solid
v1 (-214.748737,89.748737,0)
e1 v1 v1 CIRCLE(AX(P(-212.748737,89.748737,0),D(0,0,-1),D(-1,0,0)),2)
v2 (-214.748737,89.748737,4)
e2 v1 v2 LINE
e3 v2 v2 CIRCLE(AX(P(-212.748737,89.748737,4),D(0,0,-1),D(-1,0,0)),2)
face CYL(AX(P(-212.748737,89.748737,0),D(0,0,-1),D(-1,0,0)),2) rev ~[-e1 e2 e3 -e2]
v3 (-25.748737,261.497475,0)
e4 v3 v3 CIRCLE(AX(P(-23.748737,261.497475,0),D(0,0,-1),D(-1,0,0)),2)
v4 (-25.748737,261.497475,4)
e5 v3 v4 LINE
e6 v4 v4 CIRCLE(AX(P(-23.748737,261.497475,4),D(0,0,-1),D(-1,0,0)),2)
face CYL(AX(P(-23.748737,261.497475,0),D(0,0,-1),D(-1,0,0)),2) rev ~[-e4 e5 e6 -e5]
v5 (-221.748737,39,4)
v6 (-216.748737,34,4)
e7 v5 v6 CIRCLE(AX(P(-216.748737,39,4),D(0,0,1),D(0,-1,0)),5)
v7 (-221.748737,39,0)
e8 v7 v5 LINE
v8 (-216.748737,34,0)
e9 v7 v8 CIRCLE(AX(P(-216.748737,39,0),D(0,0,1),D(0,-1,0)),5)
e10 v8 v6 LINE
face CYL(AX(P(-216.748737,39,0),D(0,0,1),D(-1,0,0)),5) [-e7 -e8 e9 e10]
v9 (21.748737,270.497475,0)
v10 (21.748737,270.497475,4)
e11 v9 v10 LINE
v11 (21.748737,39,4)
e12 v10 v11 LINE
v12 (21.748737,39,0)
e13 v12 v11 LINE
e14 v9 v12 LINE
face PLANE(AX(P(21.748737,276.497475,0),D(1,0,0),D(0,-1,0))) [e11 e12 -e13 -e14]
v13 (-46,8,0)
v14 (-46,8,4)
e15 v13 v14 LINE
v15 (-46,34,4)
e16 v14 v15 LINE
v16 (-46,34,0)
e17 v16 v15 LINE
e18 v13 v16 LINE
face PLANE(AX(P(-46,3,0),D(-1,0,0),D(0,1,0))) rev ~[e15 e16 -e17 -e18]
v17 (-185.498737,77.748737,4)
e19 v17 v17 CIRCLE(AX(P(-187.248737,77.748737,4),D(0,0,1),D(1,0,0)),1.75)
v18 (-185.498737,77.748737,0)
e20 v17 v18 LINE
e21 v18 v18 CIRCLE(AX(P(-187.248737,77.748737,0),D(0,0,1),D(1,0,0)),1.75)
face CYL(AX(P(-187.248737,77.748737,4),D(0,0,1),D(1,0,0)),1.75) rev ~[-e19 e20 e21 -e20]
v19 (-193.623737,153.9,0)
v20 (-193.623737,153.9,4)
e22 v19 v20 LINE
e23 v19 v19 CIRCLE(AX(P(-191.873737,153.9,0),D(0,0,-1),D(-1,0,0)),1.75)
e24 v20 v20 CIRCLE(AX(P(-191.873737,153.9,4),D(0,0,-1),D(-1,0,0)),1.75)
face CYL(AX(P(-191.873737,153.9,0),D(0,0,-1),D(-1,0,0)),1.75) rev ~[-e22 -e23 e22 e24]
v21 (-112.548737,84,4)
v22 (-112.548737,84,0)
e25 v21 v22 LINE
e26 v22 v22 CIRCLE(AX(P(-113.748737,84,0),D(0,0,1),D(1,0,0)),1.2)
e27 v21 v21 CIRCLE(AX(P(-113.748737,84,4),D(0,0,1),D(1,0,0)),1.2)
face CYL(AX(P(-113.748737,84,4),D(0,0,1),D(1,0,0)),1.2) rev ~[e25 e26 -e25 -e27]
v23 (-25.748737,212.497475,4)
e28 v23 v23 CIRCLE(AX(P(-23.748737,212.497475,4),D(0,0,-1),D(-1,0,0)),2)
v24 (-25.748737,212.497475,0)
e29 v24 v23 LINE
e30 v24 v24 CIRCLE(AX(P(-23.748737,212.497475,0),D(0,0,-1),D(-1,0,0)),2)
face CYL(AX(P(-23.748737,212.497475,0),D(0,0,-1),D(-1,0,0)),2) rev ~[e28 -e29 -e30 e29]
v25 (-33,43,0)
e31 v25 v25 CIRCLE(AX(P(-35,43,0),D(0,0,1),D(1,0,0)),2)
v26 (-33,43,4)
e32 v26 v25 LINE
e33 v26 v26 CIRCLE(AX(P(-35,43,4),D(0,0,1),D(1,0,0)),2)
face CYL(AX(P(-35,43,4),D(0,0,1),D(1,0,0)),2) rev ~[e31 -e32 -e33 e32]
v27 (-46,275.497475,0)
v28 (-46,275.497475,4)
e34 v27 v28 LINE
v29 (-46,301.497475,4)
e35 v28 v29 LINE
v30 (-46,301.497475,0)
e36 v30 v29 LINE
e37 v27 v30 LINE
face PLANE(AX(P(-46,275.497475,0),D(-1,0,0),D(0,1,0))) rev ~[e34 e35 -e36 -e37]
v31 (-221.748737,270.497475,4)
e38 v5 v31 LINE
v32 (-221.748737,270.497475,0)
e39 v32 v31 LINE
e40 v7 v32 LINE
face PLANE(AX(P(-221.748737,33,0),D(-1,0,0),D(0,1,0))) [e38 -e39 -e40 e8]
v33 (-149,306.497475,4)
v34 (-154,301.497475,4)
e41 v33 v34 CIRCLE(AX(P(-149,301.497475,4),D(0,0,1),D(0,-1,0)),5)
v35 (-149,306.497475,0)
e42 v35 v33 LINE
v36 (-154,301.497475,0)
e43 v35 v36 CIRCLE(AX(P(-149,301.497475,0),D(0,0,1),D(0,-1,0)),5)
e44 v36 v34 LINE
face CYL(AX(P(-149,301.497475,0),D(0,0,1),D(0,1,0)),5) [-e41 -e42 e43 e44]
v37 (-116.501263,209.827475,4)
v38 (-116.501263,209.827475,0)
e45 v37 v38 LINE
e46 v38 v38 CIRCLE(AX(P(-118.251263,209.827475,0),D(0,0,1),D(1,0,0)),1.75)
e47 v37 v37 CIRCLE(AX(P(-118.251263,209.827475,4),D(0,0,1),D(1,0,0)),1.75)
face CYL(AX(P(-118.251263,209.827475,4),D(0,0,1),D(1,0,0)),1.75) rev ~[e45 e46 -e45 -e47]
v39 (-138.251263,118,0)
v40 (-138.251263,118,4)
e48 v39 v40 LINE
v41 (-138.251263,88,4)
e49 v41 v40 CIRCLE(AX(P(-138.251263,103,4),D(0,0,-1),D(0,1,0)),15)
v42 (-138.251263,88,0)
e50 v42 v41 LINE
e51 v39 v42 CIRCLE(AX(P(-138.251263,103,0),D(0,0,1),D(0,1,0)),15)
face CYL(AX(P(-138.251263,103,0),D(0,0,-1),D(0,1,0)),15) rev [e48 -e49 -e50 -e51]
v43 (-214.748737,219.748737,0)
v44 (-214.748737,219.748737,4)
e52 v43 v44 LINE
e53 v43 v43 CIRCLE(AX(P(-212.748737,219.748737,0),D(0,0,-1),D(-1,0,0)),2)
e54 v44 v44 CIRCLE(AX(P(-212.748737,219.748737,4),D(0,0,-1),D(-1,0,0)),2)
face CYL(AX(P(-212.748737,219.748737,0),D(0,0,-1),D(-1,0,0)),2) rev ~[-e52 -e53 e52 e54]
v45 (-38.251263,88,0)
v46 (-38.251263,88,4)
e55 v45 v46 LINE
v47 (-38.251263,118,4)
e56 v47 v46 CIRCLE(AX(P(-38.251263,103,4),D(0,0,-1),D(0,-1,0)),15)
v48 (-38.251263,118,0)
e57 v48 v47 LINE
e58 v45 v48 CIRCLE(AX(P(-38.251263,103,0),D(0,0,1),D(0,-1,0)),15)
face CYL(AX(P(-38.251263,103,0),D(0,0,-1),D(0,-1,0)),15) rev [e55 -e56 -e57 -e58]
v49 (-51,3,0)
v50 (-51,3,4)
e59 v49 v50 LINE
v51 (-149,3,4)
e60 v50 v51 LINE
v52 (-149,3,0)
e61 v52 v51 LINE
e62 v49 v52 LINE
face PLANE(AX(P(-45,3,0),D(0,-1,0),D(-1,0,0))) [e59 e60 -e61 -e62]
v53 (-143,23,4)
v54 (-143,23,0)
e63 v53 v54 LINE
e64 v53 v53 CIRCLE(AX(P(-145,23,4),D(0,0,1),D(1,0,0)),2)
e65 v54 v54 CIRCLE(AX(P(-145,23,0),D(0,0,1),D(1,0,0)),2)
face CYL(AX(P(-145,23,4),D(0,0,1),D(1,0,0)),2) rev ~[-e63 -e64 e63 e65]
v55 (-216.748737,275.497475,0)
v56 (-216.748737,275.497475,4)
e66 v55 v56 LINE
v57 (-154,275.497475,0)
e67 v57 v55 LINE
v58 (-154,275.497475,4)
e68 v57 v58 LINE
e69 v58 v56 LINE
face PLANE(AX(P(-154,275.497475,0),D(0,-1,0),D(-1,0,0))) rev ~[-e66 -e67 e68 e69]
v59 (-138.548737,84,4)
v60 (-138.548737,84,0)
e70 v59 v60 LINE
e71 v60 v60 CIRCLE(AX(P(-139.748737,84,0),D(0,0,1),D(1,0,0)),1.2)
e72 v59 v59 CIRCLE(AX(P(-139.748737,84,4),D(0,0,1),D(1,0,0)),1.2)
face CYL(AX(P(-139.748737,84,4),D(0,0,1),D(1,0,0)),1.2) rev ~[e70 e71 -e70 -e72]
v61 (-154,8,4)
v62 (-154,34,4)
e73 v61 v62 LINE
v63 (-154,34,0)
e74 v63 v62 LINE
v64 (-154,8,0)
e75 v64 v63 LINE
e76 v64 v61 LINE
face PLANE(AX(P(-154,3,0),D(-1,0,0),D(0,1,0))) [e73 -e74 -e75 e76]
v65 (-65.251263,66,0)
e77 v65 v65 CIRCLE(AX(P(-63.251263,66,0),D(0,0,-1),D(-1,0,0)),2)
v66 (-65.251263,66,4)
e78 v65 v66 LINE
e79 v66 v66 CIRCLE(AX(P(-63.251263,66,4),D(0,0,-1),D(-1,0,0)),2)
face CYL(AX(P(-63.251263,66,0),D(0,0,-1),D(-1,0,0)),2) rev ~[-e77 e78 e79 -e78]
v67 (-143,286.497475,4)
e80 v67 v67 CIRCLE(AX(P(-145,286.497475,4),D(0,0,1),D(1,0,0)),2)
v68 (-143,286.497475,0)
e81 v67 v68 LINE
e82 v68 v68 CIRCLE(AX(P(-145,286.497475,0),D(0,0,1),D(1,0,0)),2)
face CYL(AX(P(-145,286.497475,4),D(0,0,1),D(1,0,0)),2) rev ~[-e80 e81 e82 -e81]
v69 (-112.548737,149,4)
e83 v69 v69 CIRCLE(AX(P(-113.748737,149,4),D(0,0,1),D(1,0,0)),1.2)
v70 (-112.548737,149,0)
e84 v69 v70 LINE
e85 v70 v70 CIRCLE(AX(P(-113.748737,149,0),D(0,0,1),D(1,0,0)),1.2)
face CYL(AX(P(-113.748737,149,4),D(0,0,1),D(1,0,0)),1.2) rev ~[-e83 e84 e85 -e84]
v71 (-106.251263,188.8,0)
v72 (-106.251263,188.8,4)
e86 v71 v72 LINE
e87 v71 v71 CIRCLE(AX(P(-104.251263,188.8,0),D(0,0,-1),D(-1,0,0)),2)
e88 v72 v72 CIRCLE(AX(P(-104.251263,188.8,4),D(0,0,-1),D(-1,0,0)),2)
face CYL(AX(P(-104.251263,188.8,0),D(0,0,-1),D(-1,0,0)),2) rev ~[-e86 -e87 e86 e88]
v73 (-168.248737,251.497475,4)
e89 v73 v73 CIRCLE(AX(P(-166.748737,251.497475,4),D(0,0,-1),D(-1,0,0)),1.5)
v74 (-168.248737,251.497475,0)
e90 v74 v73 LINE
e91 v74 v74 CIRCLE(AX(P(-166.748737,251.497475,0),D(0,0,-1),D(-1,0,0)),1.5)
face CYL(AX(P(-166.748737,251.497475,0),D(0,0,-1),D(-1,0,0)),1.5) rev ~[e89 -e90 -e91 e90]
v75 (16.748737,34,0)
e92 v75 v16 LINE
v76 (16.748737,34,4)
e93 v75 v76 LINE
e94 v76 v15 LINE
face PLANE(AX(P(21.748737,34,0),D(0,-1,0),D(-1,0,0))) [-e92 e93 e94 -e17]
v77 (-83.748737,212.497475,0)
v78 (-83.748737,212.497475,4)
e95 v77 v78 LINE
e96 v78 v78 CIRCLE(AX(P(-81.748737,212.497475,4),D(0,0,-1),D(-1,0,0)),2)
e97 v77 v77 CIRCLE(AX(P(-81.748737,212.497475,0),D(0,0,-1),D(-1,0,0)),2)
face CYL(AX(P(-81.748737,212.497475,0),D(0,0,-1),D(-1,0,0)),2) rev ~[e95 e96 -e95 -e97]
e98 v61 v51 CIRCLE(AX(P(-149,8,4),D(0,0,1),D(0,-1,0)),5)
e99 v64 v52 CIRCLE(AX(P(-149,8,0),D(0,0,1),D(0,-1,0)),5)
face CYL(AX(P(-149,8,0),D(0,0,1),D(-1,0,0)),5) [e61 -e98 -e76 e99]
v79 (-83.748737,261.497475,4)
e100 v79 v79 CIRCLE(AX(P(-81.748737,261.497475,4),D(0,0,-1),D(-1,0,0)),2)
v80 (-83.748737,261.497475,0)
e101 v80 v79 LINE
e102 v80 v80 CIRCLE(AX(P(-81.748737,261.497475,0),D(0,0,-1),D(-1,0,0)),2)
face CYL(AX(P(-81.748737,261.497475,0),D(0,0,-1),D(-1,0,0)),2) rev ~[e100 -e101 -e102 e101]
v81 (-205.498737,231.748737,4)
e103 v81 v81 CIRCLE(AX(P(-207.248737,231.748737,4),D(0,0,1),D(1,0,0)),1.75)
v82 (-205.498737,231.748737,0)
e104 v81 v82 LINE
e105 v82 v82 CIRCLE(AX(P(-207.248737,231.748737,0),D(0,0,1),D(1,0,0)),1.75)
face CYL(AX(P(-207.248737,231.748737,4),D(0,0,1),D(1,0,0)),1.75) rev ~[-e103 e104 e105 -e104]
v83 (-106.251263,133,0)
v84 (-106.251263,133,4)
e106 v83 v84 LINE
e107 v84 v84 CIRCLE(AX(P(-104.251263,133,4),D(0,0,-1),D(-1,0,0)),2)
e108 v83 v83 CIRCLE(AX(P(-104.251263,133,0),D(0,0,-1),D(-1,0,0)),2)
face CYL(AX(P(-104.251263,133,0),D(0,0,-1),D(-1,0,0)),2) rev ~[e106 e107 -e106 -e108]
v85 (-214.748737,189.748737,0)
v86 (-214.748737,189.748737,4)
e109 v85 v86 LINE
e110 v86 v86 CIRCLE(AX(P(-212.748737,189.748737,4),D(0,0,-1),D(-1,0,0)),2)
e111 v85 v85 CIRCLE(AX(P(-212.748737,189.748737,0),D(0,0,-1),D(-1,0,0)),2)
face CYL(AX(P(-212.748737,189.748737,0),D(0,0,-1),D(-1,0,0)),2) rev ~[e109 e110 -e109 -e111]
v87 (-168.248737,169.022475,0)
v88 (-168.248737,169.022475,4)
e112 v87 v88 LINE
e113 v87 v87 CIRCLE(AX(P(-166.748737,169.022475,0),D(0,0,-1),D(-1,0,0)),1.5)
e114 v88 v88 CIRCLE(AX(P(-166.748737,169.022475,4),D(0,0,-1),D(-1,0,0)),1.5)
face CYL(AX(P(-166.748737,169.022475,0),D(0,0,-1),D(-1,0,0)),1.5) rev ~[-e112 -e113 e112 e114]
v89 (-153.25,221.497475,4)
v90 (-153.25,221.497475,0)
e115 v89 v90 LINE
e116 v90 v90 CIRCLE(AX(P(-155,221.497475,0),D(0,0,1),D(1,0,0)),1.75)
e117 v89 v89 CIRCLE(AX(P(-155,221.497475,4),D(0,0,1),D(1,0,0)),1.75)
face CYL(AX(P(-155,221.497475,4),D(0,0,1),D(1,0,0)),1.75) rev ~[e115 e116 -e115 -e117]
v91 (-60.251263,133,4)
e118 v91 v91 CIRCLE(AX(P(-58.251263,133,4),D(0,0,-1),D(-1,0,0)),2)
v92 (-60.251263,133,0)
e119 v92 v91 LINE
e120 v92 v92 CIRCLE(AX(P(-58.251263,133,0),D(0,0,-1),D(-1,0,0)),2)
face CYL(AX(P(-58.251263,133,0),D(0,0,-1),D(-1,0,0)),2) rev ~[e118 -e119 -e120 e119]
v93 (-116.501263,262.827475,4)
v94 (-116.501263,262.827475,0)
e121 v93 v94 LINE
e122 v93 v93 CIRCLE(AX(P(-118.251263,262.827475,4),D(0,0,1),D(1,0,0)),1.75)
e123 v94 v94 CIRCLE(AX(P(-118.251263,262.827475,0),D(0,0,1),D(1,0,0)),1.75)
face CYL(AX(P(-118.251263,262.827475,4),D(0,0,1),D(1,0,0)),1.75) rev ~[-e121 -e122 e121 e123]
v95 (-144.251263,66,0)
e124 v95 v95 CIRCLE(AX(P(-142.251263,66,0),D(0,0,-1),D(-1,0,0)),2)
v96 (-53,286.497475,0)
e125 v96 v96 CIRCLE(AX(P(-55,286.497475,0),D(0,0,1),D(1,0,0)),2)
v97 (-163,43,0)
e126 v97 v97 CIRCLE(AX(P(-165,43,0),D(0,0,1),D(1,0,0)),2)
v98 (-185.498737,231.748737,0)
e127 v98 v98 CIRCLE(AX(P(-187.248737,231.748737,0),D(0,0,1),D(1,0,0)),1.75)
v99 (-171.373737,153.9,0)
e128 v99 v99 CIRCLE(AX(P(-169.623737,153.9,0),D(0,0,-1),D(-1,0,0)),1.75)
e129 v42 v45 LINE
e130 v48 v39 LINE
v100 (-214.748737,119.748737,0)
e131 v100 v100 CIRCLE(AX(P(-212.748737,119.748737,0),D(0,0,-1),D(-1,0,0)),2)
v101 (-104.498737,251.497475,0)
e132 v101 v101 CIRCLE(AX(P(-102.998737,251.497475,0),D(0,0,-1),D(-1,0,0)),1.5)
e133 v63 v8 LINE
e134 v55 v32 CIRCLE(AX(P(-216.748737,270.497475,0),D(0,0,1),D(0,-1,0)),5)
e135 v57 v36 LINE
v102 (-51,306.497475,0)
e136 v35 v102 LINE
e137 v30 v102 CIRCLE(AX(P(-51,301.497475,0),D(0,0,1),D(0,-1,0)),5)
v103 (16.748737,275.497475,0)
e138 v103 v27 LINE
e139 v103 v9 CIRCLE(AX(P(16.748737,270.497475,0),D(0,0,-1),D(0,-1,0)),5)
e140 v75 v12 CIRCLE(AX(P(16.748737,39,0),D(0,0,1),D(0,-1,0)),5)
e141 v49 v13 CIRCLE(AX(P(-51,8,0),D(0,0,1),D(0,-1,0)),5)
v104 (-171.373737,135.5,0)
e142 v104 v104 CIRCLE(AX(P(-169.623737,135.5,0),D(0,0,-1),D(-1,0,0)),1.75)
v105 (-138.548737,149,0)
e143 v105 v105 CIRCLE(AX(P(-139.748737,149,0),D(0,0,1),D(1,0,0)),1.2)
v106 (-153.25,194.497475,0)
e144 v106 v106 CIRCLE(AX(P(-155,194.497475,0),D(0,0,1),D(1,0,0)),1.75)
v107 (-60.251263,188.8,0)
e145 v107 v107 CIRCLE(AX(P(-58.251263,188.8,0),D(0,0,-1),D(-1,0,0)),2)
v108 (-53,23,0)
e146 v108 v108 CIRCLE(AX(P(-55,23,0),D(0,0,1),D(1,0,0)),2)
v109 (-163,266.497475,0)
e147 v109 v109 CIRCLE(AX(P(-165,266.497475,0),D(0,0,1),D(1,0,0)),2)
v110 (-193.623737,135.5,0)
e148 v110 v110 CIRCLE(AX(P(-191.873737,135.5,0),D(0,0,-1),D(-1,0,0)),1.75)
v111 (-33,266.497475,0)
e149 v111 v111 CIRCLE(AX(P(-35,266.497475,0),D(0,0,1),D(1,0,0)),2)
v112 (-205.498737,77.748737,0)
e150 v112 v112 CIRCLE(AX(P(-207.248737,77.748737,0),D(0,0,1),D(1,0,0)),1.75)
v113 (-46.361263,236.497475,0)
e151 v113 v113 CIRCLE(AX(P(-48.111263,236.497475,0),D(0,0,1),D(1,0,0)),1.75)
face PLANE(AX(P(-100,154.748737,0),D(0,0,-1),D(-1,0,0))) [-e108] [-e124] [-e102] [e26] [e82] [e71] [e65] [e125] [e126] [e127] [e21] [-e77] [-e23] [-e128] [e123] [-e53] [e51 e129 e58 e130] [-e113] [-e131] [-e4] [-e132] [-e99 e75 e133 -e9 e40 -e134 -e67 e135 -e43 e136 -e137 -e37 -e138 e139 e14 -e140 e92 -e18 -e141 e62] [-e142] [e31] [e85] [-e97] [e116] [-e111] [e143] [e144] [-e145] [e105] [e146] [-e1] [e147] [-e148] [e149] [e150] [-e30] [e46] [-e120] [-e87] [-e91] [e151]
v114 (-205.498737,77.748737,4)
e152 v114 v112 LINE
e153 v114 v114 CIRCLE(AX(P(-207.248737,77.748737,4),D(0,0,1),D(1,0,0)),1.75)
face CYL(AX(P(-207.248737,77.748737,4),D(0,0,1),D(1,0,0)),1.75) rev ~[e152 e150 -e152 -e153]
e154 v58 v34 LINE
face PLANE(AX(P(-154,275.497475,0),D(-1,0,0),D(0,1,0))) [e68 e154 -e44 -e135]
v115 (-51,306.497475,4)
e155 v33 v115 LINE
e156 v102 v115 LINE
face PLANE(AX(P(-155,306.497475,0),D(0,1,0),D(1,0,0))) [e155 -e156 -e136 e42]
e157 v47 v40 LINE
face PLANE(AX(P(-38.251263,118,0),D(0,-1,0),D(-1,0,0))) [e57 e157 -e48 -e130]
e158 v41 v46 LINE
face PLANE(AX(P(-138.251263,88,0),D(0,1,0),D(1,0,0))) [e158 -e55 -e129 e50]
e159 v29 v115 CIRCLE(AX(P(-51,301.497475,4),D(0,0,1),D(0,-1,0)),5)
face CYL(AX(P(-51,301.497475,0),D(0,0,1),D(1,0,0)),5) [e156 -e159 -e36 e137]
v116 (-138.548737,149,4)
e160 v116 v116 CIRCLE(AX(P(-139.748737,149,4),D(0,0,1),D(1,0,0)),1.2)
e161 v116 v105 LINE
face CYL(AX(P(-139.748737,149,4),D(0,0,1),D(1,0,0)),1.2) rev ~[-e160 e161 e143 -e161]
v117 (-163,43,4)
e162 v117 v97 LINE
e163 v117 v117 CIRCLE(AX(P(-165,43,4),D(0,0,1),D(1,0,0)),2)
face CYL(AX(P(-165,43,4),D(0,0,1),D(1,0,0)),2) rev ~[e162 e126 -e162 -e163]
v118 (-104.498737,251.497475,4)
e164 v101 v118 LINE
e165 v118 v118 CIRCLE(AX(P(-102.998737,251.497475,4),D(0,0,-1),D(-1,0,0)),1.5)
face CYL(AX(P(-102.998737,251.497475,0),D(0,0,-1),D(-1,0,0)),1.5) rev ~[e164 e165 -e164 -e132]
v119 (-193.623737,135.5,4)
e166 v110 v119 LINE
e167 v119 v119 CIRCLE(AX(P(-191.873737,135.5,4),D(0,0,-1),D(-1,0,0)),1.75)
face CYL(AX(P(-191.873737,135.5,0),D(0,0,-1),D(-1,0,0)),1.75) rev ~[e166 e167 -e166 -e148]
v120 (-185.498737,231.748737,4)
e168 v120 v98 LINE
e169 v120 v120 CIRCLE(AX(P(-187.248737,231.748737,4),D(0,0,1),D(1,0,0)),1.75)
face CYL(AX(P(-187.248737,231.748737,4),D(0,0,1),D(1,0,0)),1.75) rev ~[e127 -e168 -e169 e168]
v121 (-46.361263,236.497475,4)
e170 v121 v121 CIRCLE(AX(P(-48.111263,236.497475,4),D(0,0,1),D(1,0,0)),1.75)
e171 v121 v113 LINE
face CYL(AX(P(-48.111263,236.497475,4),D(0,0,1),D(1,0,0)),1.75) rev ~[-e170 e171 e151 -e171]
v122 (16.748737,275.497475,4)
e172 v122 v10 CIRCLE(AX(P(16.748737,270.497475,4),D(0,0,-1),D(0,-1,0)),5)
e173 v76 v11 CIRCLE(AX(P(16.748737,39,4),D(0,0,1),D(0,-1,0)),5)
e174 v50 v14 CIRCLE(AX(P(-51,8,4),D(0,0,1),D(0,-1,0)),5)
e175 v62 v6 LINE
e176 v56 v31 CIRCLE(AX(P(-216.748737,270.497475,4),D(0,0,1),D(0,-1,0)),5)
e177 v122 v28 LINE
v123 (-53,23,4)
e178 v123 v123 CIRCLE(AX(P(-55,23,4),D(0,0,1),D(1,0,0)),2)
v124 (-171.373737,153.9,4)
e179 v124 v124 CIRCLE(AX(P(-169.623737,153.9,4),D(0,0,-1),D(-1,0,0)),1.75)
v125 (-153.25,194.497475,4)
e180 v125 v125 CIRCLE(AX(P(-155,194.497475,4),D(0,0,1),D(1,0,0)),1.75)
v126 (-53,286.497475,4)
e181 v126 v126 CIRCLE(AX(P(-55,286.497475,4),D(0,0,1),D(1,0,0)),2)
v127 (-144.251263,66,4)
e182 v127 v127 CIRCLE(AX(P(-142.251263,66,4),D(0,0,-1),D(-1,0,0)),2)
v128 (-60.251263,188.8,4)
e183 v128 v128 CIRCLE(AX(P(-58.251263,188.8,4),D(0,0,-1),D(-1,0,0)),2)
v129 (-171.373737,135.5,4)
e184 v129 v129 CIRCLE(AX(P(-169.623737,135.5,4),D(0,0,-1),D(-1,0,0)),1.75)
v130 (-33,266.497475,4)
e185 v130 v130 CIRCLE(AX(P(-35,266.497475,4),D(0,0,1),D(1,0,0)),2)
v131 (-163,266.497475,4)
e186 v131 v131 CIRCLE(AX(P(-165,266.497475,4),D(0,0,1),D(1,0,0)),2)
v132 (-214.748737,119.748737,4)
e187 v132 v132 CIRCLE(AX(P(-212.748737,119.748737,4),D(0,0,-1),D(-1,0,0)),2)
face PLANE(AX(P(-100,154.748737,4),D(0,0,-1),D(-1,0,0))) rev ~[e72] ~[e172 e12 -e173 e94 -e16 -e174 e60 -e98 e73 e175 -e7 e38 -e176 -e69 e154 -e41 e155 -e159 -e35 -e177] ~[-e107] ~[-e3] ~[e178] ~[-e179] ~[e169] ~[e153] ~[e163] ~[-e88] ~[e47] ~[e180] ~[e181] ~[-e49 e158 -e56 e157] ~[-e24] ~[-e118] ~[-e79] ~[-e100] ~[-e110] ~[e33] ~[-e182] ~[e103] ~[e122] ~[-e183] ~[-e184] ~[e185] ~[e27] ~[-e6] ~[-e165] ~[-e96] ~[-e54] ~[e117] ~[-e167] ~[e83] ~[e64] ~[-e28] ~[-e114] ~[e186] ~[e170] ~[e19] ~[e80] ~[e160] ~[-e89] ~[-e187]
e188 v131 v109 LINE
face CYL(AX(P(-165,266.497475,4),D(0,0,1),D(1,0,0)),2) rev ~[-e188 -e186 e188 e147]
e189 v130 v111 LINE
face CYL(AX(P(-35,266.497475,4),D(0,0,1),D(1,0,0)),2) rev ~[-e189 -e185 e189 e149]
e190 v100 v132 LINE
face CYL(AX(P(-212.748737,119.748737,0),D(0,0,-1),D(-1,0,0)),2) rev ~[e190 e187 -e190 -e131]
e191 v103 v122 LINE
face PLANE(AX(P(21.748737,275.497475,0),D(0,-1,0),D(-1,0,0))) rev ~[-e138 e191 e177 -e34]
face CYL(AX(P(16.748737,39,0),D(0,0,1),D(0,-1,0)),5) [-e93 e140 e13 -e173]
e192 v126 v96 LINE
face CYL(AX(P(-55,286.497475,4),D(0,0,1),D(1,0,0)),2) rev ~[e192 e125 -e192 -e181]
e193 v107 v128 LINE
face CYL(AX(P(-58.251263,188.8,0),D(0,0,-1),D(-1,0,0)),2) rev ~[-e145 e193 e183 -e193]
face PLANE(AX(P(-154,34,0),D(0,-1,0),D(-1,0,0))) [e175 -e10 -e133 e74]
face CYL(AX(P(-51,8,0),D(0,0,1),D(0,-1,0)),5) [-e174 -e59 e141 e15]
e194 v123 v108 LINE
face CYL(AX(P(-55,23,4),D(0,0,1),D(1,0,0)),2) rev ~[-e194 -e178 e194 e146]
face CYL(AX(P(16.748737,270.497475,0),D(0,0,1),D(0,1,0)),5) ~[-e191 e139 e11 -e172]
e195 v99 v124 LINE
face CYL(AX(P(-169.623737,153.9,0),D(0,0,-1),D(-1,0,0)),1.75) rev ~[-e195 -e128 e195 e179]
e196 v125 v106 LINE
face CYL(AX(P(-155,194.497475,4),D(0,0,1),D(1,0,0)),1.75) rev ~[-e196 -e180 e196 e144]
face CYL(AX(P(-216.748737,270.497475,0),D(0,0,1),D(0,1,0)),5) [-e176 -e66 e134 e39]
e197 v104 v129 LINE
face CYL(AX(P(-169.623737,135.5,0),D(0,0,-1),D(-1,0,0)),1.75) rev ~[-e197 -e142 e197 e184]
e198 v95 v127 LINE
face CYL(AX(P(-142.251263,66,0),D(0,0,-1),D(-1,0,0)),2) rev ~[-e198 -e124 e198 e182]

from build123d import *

# Parameters (mm, degrees)
BASE_DEPTH                       = 4
CONG_1_R                         = 3
ENL_V_MAT_EXTRU_1_DEPTH          = 5
ESQUISSE33_R                     = 1.75
PERCAGE_MAIN_DE_DIEU_DEPTH       = 5
ESQUISSE26_R                     = 2
PERCAGE_BUCK_CONVERTER_DEPTH     = 5
ESQUISSE27_R                     = 2
PERCAGE_TEENSY_MOTEUR_DEPTH      = 5
ESQUISSE28_R                     = 1.5
PERCAGE_CARTE_ALIM_DEPTH         = 5
ESQUISSE29_R                     = 2
PERCAGE_RASP_DEPTH               = 5
ESQUISSE32_R                     = 1.75
PERCAGE_TEENSY_ACTIONNEURS_DEPTH = 5
ESQUISSE30_R                     = 2
PERCAGE_ALIM_ACTIONNEURS_DEPTH   = 5
PER_AGE_FILS_DEPTH               = 5
ESQUISSE34_R                     = 1.75
PER_AGE_MOTEUR_ASCENSEUR_DEPTH   = 5
ESQUISSE35_R                     = 1.2
PER_AGE_DRIVER_ASCENSEUR_DEPTH   = 5
ESQUISSE36_R                     = 1.75
ENL_V_MAT_EXTRU_2_DEPTH          = 5
ESQUISSE39_R                     = 2
PER_AGE_EQUERRE_DEPTH            = 5
ESQUISSE38_W                     = 67.748737342
ESQUISSE38_H                     = 31
ENL_V_MAT_EXTRU_3_DEPTH          = 5
CONG_2_R                         = 5


with BuildPart() as part:
    # Esquisse1 → Base (new body)
    with BuildSketch(Plane.XY):
        Polygon((0, 0), (-200, 0), (-224.748737342, 24.748737342), (-224.748737342, 284.748737342), (-200, 309.497474683), (0, 309.497474683), (24.748737342, 284.748737342), (24.748737342, 24.748737342), align=None)
    extrude(amount=BASE_DEPTH)

    # Congé1
    cong_1_edges = [part.edges().sort_by_distance(p)[0] for p in [
        (0, 0, 2),
        (-200, 0, 2),
        (-224.748737342, 24.748737342, 2),
        (-224.748737342, 284.748737342, 2),
        (-200, 309.497474683, 2),
        (0, 309.497474683, 2),
        (24.748737342, 284.748737342, 2),
        (24.748737342, 24.748737342, 2),
    ]]
    fillet(cong_1_edges, radius=CONG_1_R)

    # Esquisse25 → Enlèv. mat.-Extru.1 (cut, through all)
    with BuildSketch(Plane(origin=(0, 0, 0), x_dir=(-1, 0, 0), z_dir=(0, 0, -1))):
        Polygon((-24.748737342, 33), (-24.748737342, 0), (45, 0), (155, 0), (224.748737342, 0), (224.748737342, 33), (224.748737342, 276.497474683), (224.748737342, 309.497474683), (155, 309.497474683), (45, 309.497474683), (-24.748737342, 309.497474683), (-24.748737342, 276.497474683), align=None)
        Polygon((-21.748737342, 33), (45, 33), (45, 3), (155, 3), (155, 33), (221.748737342, 33), (221.748737342, 276.497474683), (155, 276.497474683), (155, 306.497474683), (45, 306.497474683), (45, 276.497474683), (-21.748737342, 276.497474683), align=None, mode=Mode.SUBTRACT)
    extrude(amount=-ENL_V_MAT_EXTRU_1_DEPTH, mode=Mode.SUBTRACT)

    # Esquisse33 → Percage Main_De_Dieu (cut, through all)
    with BuildSketch(Plane.XY.offset(4)):
        with Locations((-207.248737342, 231.748737342)):
            Circle(ESQUISSE33_R)
        with Locations((-187.248737342, 231.748737342)):
            Circle(ESQUISSE33_R)
        with Locations((-207.248737342, 77.748737342)):
            Circle(ESQUISSE33_R)
        with Locations((-187.248737342, 77.748737342)):
            Circle(ESQUISSE33_R)
    extrude(amount=-PERCAGE_MAIN_DE_DIEU_DEPTH, mode=Mode.SUBTRACT)

    # Esquisse26 → Percage Buck Converter (cut, through all)
    with BuildSketch(Plane(origin=(0, 0, 0), x_dir=(-1, 0, 0), z_dir=(0, 0, -1))):
        with Locations((212.748737342, 189.748737342)):
            Circle(ESQUISSE26_R)
        with Locations((212.748737342, 219.748737342)):
            Circle(ESQUISSE26_R)
        with Locations((212.748737342, 89.748737342)):
            Circle(ESQUISSE26_R)
        with Locations((212.748737342, 119.748737342)):
            Circle(ESQUISSE26_R)
    extrude(amount=-PERCAGE_BUCK_CONVERTER_DEPTH, mode=Mode.SUBTRACT)

    # Esquisse27 → Percage Teensy Moteur (cut, through all)
    with BuildSketch(Plane(origin=(0, 0, 0), x_dir=(-1, 0, 0), z_dir=(0, 0, -1))):
        with Locations((142.251262658, 66)):
            Circle(ESQUISSE27_R)
        with Locations((63.251262658, 66)):
            Circle(ESQUISSE27_R)
    extrude(amount=-PERCAGE_TEENSY_MOTEUR_DEPTH, mode=Mode.SUBTRACT)

    # Esquisse28 → Percage Carte Alim (cut, through all)
    with BuildSketch(Plane(origin=(0, 0, 0), x_dir=(-1, 0, 0), z_dir=(0, 0, -1))):
        with Locations((166.748737342, 251.497474683)):
            Circle(ESQUISSE28_R)
        with Locations((102.998737342, 251.497474683)):
            Circle(ESQUISSE28_R)
        with Locations((166.748737342, 169.022474683)):
            Circle(ESQUISSE28_R)
    extrude(amount=-PERCAGE_CARTE_ALIM_DEPTH, mode=Mode.SUBTRACT)

    # Esquisse29 → Percage Rasp (cut, through all)
    with BuildSketch(Plane(origin=(0, 0, 0), x_dir=(-1, 0, 0), z_dir=(0, 0, -1))):
        with Locations((81.748737342, 212.497474683)):
            Circle(ESQUISSE29_R)
        with Locations((23.748737342, 212.497474683)):
            Circle(ESQUISSE29_R)
        with Locations((23.748737342, 261.497474683)):
            Circle(ESQUISSE29_R)
        with Locations((81.748737342, 261.497474683)):
            Circle(ESQUISSE29_R)
    extrude(amount=-PERCAGE_RASP_DEPTH, mode=Mode.SUBTRACT)

    # Esquisse32 → Percage Teensy Actionneurs (cut, through all)
    with BuildSketch(Plane.XY.offset(4)):
        with Locations((-118.251262658, 262.827474683)):
            Circle(ESQUISSE32_R)
        with Locations((-118.251262658, 209.827474683)):
            Circle(ESQUISSE32_R)
        with Locations((-48.111262658, 236.497474683)):
            Circle(ESQUISSE32_R)
    extrude(amount=-PERCAGE_TEENSY_ACTIONNEURS_DEPTH, mode=Mode.SUBTRACT)

    # Esquisse30 → Percage Alim Actionneurs (cut, through all)
    with BuildSketch(Plane(origin=(0, 0, 0), x_dir=(-1, 0, 0), z_dir=(0, 0, -1))):
        with Locations((104.251262658, 133)):
            Circle(ESQUISSE30_R)
        with Locations((58.251262658, 133)):
            Circle(ESQUISSE30_R)
        with Locations((58.251262658, 188.8)):
            Circle(ESQUISSE30_R)
        with Locations((104.251262658, 188.8)):
            Circle(ESQUISSE30_R)
    extrude(amount=-PERCAGE_ALIM_ACTIONNEURS_DEPTH, mode=Mode.SUBTRACT)

    # Esquisse31 → Perçage Fils (cut, through all)
    with BuildSketch(Plane(origin=(0, 0, 0), x_dir=(-1, 0, 0), z_dir=(0, 0, -1))):
        with BuildLine():
            Line((138.251262658, 88), (38.251262658, 88))
            ThreePointArc((38.251262658, 88), (23.251262658, 103), (38.251262658, 118))
            Line((38.251262658, 118), (138.251262658, 118))
            ThreePointArc((138.251262658, 118), (153.251262658, 103), (138.251262658, 88))
        make_face()
    extrude(amount=-PER_AGE_FILS_DEPTH, mode=Mode.SUBTRACT)

    # Esquisse34 → Perçage Moteur Ascenseur (cut, through all)
    with BuildSketch(Plane(origin=(0, 0, 0), x_dir=(-1, 0, 0), z_dir=(0, 0, -1))):
        with Locations((169.623737342, 153.9)):
            Circle(ESQUISSE34_R)
        with Locations((191.873737342, 153.9)):
            Circle(ESQUISSE34_R)
        with Locations((169.623737342, 135.5)):
            Circle(ESQUISSE34_R)
        with Locations((191.873737342, 135.5)):
            Circle(ESQUISSE34_R)
    extrude(amount=-PER_AGE_MOTEUR_ASCENSEUR_DEPTH, mode=Mode.SUBTRACT)

    # Esquisse35 → Perçage Driver Ascenseur (cut, through all)
    with BuildSketch(Plane.XY.offset(4)):
        with Locations((-139.748737342, 149)):
            Circle(ESQUISSE35_R)
        with Locations((-113.748737342, 149)):
            Circle(ESQUISSE35_R)
        with Locations((-113.748737342, 84)):
            Circle(ESQUISSE35_R)
        with Locations((-139.748737342, 84)):
            Circle(ESQUISSE35_R)
    extrude(amount=-PER_AGE_DRIVER_ASCENSEUR_DEPTH, mode=Mode.SUBTRACT)

    # Esquisse36 → Enlèv. mat.-Extru.2 (cut)
    with BuildSketch(Plane.XY.offset(4)):
        with Locations((-155, 194.497474683)):
            Circle(ESQUISSE36_R)
        with Locations((-155, 221.497474683)):
            Circle(ESQUISSE36_R)
    extrude(amount=-ENL_V_MAT_EXTRU_2_DEPTH, mode=Mode.SUBTRACT)

    # Esquisse39 → Perçage Equerre (cut, through all)
    with BuildSketch(Plane.XY.offset(4)):
        with Locations((-145, 286.497474683)):
            Circle(ESQUISSE39_R)
        with Locations((-165, 266.497474683)):
            Circle(ESQUISSE39_R)
        with Locations((-35, 266.497474683)):
            Circle(ESQUISSE39_R)
        with Locations((-55, 286.497474683)):
            Circle(ESQUISSE39_R)
        with Locations((-35, 43)):
            Circle(ESQUISSE39_R)
        with Locations((-55, 23)):
            Circle(ESQUISSE39_R)
        with Locations((-165, 43)):
            Circle(ESQUISSE39_R)
        with Locations((-145, 23)):
            Circle(ESQUISSE39_R)
    extrude(amount=-PER_AGE_EQUERRE_DEPTH, mode=Mode.SUBTRACT)

    # Esquisse38 → Enlèv. mat.-Extru.3 (cut, through all)
    with BuildSketch(Plane(origin=(0, 0, 0), x_dir=(-1, 0, 0), z_dir=(0, 0, -1))):
        with Locations((12.125631329, 18.5)):
            Rectangle(ESQUISSE38_W, ESQUISSE38_H)
        with Locations((187.874368671, 18.5)):
            Rectangle(ESQUISSE38_W, ESQUISSE38_H)
        with Locations((187.874368671, 290.997474683)):
            Rectangle(ESQUISSE38_W, ESQUISSE38_H)
        with Locations((12.125631329, 290.997474683)):
            Rectangle(ESQUISSE38_W, ESQUISSE38_H)
    extrude(amount=-ENL_V_MAT_EXTRU_3_DEPTH, mode=Mode.SUBTRACT)

    # Congé2
    cong_2_edges = [part.edges().sort_by_distance(p)[0] for p in [
        (21.748737342, 275.497474683, 2),
        (-46, 306.497474683, 2),
        (-221.748737342, 275.497474683, 2),
        (-154, 306.497474683, 2),
        (-221.748737342, 34, 2),
        (-154, 3, 2),
        (21.748737342, 34, 2),
        (-46, 3, 2),
    ]]
    fillet(cong_2_edges, radius=CONG_2_R)


solid = part.part
